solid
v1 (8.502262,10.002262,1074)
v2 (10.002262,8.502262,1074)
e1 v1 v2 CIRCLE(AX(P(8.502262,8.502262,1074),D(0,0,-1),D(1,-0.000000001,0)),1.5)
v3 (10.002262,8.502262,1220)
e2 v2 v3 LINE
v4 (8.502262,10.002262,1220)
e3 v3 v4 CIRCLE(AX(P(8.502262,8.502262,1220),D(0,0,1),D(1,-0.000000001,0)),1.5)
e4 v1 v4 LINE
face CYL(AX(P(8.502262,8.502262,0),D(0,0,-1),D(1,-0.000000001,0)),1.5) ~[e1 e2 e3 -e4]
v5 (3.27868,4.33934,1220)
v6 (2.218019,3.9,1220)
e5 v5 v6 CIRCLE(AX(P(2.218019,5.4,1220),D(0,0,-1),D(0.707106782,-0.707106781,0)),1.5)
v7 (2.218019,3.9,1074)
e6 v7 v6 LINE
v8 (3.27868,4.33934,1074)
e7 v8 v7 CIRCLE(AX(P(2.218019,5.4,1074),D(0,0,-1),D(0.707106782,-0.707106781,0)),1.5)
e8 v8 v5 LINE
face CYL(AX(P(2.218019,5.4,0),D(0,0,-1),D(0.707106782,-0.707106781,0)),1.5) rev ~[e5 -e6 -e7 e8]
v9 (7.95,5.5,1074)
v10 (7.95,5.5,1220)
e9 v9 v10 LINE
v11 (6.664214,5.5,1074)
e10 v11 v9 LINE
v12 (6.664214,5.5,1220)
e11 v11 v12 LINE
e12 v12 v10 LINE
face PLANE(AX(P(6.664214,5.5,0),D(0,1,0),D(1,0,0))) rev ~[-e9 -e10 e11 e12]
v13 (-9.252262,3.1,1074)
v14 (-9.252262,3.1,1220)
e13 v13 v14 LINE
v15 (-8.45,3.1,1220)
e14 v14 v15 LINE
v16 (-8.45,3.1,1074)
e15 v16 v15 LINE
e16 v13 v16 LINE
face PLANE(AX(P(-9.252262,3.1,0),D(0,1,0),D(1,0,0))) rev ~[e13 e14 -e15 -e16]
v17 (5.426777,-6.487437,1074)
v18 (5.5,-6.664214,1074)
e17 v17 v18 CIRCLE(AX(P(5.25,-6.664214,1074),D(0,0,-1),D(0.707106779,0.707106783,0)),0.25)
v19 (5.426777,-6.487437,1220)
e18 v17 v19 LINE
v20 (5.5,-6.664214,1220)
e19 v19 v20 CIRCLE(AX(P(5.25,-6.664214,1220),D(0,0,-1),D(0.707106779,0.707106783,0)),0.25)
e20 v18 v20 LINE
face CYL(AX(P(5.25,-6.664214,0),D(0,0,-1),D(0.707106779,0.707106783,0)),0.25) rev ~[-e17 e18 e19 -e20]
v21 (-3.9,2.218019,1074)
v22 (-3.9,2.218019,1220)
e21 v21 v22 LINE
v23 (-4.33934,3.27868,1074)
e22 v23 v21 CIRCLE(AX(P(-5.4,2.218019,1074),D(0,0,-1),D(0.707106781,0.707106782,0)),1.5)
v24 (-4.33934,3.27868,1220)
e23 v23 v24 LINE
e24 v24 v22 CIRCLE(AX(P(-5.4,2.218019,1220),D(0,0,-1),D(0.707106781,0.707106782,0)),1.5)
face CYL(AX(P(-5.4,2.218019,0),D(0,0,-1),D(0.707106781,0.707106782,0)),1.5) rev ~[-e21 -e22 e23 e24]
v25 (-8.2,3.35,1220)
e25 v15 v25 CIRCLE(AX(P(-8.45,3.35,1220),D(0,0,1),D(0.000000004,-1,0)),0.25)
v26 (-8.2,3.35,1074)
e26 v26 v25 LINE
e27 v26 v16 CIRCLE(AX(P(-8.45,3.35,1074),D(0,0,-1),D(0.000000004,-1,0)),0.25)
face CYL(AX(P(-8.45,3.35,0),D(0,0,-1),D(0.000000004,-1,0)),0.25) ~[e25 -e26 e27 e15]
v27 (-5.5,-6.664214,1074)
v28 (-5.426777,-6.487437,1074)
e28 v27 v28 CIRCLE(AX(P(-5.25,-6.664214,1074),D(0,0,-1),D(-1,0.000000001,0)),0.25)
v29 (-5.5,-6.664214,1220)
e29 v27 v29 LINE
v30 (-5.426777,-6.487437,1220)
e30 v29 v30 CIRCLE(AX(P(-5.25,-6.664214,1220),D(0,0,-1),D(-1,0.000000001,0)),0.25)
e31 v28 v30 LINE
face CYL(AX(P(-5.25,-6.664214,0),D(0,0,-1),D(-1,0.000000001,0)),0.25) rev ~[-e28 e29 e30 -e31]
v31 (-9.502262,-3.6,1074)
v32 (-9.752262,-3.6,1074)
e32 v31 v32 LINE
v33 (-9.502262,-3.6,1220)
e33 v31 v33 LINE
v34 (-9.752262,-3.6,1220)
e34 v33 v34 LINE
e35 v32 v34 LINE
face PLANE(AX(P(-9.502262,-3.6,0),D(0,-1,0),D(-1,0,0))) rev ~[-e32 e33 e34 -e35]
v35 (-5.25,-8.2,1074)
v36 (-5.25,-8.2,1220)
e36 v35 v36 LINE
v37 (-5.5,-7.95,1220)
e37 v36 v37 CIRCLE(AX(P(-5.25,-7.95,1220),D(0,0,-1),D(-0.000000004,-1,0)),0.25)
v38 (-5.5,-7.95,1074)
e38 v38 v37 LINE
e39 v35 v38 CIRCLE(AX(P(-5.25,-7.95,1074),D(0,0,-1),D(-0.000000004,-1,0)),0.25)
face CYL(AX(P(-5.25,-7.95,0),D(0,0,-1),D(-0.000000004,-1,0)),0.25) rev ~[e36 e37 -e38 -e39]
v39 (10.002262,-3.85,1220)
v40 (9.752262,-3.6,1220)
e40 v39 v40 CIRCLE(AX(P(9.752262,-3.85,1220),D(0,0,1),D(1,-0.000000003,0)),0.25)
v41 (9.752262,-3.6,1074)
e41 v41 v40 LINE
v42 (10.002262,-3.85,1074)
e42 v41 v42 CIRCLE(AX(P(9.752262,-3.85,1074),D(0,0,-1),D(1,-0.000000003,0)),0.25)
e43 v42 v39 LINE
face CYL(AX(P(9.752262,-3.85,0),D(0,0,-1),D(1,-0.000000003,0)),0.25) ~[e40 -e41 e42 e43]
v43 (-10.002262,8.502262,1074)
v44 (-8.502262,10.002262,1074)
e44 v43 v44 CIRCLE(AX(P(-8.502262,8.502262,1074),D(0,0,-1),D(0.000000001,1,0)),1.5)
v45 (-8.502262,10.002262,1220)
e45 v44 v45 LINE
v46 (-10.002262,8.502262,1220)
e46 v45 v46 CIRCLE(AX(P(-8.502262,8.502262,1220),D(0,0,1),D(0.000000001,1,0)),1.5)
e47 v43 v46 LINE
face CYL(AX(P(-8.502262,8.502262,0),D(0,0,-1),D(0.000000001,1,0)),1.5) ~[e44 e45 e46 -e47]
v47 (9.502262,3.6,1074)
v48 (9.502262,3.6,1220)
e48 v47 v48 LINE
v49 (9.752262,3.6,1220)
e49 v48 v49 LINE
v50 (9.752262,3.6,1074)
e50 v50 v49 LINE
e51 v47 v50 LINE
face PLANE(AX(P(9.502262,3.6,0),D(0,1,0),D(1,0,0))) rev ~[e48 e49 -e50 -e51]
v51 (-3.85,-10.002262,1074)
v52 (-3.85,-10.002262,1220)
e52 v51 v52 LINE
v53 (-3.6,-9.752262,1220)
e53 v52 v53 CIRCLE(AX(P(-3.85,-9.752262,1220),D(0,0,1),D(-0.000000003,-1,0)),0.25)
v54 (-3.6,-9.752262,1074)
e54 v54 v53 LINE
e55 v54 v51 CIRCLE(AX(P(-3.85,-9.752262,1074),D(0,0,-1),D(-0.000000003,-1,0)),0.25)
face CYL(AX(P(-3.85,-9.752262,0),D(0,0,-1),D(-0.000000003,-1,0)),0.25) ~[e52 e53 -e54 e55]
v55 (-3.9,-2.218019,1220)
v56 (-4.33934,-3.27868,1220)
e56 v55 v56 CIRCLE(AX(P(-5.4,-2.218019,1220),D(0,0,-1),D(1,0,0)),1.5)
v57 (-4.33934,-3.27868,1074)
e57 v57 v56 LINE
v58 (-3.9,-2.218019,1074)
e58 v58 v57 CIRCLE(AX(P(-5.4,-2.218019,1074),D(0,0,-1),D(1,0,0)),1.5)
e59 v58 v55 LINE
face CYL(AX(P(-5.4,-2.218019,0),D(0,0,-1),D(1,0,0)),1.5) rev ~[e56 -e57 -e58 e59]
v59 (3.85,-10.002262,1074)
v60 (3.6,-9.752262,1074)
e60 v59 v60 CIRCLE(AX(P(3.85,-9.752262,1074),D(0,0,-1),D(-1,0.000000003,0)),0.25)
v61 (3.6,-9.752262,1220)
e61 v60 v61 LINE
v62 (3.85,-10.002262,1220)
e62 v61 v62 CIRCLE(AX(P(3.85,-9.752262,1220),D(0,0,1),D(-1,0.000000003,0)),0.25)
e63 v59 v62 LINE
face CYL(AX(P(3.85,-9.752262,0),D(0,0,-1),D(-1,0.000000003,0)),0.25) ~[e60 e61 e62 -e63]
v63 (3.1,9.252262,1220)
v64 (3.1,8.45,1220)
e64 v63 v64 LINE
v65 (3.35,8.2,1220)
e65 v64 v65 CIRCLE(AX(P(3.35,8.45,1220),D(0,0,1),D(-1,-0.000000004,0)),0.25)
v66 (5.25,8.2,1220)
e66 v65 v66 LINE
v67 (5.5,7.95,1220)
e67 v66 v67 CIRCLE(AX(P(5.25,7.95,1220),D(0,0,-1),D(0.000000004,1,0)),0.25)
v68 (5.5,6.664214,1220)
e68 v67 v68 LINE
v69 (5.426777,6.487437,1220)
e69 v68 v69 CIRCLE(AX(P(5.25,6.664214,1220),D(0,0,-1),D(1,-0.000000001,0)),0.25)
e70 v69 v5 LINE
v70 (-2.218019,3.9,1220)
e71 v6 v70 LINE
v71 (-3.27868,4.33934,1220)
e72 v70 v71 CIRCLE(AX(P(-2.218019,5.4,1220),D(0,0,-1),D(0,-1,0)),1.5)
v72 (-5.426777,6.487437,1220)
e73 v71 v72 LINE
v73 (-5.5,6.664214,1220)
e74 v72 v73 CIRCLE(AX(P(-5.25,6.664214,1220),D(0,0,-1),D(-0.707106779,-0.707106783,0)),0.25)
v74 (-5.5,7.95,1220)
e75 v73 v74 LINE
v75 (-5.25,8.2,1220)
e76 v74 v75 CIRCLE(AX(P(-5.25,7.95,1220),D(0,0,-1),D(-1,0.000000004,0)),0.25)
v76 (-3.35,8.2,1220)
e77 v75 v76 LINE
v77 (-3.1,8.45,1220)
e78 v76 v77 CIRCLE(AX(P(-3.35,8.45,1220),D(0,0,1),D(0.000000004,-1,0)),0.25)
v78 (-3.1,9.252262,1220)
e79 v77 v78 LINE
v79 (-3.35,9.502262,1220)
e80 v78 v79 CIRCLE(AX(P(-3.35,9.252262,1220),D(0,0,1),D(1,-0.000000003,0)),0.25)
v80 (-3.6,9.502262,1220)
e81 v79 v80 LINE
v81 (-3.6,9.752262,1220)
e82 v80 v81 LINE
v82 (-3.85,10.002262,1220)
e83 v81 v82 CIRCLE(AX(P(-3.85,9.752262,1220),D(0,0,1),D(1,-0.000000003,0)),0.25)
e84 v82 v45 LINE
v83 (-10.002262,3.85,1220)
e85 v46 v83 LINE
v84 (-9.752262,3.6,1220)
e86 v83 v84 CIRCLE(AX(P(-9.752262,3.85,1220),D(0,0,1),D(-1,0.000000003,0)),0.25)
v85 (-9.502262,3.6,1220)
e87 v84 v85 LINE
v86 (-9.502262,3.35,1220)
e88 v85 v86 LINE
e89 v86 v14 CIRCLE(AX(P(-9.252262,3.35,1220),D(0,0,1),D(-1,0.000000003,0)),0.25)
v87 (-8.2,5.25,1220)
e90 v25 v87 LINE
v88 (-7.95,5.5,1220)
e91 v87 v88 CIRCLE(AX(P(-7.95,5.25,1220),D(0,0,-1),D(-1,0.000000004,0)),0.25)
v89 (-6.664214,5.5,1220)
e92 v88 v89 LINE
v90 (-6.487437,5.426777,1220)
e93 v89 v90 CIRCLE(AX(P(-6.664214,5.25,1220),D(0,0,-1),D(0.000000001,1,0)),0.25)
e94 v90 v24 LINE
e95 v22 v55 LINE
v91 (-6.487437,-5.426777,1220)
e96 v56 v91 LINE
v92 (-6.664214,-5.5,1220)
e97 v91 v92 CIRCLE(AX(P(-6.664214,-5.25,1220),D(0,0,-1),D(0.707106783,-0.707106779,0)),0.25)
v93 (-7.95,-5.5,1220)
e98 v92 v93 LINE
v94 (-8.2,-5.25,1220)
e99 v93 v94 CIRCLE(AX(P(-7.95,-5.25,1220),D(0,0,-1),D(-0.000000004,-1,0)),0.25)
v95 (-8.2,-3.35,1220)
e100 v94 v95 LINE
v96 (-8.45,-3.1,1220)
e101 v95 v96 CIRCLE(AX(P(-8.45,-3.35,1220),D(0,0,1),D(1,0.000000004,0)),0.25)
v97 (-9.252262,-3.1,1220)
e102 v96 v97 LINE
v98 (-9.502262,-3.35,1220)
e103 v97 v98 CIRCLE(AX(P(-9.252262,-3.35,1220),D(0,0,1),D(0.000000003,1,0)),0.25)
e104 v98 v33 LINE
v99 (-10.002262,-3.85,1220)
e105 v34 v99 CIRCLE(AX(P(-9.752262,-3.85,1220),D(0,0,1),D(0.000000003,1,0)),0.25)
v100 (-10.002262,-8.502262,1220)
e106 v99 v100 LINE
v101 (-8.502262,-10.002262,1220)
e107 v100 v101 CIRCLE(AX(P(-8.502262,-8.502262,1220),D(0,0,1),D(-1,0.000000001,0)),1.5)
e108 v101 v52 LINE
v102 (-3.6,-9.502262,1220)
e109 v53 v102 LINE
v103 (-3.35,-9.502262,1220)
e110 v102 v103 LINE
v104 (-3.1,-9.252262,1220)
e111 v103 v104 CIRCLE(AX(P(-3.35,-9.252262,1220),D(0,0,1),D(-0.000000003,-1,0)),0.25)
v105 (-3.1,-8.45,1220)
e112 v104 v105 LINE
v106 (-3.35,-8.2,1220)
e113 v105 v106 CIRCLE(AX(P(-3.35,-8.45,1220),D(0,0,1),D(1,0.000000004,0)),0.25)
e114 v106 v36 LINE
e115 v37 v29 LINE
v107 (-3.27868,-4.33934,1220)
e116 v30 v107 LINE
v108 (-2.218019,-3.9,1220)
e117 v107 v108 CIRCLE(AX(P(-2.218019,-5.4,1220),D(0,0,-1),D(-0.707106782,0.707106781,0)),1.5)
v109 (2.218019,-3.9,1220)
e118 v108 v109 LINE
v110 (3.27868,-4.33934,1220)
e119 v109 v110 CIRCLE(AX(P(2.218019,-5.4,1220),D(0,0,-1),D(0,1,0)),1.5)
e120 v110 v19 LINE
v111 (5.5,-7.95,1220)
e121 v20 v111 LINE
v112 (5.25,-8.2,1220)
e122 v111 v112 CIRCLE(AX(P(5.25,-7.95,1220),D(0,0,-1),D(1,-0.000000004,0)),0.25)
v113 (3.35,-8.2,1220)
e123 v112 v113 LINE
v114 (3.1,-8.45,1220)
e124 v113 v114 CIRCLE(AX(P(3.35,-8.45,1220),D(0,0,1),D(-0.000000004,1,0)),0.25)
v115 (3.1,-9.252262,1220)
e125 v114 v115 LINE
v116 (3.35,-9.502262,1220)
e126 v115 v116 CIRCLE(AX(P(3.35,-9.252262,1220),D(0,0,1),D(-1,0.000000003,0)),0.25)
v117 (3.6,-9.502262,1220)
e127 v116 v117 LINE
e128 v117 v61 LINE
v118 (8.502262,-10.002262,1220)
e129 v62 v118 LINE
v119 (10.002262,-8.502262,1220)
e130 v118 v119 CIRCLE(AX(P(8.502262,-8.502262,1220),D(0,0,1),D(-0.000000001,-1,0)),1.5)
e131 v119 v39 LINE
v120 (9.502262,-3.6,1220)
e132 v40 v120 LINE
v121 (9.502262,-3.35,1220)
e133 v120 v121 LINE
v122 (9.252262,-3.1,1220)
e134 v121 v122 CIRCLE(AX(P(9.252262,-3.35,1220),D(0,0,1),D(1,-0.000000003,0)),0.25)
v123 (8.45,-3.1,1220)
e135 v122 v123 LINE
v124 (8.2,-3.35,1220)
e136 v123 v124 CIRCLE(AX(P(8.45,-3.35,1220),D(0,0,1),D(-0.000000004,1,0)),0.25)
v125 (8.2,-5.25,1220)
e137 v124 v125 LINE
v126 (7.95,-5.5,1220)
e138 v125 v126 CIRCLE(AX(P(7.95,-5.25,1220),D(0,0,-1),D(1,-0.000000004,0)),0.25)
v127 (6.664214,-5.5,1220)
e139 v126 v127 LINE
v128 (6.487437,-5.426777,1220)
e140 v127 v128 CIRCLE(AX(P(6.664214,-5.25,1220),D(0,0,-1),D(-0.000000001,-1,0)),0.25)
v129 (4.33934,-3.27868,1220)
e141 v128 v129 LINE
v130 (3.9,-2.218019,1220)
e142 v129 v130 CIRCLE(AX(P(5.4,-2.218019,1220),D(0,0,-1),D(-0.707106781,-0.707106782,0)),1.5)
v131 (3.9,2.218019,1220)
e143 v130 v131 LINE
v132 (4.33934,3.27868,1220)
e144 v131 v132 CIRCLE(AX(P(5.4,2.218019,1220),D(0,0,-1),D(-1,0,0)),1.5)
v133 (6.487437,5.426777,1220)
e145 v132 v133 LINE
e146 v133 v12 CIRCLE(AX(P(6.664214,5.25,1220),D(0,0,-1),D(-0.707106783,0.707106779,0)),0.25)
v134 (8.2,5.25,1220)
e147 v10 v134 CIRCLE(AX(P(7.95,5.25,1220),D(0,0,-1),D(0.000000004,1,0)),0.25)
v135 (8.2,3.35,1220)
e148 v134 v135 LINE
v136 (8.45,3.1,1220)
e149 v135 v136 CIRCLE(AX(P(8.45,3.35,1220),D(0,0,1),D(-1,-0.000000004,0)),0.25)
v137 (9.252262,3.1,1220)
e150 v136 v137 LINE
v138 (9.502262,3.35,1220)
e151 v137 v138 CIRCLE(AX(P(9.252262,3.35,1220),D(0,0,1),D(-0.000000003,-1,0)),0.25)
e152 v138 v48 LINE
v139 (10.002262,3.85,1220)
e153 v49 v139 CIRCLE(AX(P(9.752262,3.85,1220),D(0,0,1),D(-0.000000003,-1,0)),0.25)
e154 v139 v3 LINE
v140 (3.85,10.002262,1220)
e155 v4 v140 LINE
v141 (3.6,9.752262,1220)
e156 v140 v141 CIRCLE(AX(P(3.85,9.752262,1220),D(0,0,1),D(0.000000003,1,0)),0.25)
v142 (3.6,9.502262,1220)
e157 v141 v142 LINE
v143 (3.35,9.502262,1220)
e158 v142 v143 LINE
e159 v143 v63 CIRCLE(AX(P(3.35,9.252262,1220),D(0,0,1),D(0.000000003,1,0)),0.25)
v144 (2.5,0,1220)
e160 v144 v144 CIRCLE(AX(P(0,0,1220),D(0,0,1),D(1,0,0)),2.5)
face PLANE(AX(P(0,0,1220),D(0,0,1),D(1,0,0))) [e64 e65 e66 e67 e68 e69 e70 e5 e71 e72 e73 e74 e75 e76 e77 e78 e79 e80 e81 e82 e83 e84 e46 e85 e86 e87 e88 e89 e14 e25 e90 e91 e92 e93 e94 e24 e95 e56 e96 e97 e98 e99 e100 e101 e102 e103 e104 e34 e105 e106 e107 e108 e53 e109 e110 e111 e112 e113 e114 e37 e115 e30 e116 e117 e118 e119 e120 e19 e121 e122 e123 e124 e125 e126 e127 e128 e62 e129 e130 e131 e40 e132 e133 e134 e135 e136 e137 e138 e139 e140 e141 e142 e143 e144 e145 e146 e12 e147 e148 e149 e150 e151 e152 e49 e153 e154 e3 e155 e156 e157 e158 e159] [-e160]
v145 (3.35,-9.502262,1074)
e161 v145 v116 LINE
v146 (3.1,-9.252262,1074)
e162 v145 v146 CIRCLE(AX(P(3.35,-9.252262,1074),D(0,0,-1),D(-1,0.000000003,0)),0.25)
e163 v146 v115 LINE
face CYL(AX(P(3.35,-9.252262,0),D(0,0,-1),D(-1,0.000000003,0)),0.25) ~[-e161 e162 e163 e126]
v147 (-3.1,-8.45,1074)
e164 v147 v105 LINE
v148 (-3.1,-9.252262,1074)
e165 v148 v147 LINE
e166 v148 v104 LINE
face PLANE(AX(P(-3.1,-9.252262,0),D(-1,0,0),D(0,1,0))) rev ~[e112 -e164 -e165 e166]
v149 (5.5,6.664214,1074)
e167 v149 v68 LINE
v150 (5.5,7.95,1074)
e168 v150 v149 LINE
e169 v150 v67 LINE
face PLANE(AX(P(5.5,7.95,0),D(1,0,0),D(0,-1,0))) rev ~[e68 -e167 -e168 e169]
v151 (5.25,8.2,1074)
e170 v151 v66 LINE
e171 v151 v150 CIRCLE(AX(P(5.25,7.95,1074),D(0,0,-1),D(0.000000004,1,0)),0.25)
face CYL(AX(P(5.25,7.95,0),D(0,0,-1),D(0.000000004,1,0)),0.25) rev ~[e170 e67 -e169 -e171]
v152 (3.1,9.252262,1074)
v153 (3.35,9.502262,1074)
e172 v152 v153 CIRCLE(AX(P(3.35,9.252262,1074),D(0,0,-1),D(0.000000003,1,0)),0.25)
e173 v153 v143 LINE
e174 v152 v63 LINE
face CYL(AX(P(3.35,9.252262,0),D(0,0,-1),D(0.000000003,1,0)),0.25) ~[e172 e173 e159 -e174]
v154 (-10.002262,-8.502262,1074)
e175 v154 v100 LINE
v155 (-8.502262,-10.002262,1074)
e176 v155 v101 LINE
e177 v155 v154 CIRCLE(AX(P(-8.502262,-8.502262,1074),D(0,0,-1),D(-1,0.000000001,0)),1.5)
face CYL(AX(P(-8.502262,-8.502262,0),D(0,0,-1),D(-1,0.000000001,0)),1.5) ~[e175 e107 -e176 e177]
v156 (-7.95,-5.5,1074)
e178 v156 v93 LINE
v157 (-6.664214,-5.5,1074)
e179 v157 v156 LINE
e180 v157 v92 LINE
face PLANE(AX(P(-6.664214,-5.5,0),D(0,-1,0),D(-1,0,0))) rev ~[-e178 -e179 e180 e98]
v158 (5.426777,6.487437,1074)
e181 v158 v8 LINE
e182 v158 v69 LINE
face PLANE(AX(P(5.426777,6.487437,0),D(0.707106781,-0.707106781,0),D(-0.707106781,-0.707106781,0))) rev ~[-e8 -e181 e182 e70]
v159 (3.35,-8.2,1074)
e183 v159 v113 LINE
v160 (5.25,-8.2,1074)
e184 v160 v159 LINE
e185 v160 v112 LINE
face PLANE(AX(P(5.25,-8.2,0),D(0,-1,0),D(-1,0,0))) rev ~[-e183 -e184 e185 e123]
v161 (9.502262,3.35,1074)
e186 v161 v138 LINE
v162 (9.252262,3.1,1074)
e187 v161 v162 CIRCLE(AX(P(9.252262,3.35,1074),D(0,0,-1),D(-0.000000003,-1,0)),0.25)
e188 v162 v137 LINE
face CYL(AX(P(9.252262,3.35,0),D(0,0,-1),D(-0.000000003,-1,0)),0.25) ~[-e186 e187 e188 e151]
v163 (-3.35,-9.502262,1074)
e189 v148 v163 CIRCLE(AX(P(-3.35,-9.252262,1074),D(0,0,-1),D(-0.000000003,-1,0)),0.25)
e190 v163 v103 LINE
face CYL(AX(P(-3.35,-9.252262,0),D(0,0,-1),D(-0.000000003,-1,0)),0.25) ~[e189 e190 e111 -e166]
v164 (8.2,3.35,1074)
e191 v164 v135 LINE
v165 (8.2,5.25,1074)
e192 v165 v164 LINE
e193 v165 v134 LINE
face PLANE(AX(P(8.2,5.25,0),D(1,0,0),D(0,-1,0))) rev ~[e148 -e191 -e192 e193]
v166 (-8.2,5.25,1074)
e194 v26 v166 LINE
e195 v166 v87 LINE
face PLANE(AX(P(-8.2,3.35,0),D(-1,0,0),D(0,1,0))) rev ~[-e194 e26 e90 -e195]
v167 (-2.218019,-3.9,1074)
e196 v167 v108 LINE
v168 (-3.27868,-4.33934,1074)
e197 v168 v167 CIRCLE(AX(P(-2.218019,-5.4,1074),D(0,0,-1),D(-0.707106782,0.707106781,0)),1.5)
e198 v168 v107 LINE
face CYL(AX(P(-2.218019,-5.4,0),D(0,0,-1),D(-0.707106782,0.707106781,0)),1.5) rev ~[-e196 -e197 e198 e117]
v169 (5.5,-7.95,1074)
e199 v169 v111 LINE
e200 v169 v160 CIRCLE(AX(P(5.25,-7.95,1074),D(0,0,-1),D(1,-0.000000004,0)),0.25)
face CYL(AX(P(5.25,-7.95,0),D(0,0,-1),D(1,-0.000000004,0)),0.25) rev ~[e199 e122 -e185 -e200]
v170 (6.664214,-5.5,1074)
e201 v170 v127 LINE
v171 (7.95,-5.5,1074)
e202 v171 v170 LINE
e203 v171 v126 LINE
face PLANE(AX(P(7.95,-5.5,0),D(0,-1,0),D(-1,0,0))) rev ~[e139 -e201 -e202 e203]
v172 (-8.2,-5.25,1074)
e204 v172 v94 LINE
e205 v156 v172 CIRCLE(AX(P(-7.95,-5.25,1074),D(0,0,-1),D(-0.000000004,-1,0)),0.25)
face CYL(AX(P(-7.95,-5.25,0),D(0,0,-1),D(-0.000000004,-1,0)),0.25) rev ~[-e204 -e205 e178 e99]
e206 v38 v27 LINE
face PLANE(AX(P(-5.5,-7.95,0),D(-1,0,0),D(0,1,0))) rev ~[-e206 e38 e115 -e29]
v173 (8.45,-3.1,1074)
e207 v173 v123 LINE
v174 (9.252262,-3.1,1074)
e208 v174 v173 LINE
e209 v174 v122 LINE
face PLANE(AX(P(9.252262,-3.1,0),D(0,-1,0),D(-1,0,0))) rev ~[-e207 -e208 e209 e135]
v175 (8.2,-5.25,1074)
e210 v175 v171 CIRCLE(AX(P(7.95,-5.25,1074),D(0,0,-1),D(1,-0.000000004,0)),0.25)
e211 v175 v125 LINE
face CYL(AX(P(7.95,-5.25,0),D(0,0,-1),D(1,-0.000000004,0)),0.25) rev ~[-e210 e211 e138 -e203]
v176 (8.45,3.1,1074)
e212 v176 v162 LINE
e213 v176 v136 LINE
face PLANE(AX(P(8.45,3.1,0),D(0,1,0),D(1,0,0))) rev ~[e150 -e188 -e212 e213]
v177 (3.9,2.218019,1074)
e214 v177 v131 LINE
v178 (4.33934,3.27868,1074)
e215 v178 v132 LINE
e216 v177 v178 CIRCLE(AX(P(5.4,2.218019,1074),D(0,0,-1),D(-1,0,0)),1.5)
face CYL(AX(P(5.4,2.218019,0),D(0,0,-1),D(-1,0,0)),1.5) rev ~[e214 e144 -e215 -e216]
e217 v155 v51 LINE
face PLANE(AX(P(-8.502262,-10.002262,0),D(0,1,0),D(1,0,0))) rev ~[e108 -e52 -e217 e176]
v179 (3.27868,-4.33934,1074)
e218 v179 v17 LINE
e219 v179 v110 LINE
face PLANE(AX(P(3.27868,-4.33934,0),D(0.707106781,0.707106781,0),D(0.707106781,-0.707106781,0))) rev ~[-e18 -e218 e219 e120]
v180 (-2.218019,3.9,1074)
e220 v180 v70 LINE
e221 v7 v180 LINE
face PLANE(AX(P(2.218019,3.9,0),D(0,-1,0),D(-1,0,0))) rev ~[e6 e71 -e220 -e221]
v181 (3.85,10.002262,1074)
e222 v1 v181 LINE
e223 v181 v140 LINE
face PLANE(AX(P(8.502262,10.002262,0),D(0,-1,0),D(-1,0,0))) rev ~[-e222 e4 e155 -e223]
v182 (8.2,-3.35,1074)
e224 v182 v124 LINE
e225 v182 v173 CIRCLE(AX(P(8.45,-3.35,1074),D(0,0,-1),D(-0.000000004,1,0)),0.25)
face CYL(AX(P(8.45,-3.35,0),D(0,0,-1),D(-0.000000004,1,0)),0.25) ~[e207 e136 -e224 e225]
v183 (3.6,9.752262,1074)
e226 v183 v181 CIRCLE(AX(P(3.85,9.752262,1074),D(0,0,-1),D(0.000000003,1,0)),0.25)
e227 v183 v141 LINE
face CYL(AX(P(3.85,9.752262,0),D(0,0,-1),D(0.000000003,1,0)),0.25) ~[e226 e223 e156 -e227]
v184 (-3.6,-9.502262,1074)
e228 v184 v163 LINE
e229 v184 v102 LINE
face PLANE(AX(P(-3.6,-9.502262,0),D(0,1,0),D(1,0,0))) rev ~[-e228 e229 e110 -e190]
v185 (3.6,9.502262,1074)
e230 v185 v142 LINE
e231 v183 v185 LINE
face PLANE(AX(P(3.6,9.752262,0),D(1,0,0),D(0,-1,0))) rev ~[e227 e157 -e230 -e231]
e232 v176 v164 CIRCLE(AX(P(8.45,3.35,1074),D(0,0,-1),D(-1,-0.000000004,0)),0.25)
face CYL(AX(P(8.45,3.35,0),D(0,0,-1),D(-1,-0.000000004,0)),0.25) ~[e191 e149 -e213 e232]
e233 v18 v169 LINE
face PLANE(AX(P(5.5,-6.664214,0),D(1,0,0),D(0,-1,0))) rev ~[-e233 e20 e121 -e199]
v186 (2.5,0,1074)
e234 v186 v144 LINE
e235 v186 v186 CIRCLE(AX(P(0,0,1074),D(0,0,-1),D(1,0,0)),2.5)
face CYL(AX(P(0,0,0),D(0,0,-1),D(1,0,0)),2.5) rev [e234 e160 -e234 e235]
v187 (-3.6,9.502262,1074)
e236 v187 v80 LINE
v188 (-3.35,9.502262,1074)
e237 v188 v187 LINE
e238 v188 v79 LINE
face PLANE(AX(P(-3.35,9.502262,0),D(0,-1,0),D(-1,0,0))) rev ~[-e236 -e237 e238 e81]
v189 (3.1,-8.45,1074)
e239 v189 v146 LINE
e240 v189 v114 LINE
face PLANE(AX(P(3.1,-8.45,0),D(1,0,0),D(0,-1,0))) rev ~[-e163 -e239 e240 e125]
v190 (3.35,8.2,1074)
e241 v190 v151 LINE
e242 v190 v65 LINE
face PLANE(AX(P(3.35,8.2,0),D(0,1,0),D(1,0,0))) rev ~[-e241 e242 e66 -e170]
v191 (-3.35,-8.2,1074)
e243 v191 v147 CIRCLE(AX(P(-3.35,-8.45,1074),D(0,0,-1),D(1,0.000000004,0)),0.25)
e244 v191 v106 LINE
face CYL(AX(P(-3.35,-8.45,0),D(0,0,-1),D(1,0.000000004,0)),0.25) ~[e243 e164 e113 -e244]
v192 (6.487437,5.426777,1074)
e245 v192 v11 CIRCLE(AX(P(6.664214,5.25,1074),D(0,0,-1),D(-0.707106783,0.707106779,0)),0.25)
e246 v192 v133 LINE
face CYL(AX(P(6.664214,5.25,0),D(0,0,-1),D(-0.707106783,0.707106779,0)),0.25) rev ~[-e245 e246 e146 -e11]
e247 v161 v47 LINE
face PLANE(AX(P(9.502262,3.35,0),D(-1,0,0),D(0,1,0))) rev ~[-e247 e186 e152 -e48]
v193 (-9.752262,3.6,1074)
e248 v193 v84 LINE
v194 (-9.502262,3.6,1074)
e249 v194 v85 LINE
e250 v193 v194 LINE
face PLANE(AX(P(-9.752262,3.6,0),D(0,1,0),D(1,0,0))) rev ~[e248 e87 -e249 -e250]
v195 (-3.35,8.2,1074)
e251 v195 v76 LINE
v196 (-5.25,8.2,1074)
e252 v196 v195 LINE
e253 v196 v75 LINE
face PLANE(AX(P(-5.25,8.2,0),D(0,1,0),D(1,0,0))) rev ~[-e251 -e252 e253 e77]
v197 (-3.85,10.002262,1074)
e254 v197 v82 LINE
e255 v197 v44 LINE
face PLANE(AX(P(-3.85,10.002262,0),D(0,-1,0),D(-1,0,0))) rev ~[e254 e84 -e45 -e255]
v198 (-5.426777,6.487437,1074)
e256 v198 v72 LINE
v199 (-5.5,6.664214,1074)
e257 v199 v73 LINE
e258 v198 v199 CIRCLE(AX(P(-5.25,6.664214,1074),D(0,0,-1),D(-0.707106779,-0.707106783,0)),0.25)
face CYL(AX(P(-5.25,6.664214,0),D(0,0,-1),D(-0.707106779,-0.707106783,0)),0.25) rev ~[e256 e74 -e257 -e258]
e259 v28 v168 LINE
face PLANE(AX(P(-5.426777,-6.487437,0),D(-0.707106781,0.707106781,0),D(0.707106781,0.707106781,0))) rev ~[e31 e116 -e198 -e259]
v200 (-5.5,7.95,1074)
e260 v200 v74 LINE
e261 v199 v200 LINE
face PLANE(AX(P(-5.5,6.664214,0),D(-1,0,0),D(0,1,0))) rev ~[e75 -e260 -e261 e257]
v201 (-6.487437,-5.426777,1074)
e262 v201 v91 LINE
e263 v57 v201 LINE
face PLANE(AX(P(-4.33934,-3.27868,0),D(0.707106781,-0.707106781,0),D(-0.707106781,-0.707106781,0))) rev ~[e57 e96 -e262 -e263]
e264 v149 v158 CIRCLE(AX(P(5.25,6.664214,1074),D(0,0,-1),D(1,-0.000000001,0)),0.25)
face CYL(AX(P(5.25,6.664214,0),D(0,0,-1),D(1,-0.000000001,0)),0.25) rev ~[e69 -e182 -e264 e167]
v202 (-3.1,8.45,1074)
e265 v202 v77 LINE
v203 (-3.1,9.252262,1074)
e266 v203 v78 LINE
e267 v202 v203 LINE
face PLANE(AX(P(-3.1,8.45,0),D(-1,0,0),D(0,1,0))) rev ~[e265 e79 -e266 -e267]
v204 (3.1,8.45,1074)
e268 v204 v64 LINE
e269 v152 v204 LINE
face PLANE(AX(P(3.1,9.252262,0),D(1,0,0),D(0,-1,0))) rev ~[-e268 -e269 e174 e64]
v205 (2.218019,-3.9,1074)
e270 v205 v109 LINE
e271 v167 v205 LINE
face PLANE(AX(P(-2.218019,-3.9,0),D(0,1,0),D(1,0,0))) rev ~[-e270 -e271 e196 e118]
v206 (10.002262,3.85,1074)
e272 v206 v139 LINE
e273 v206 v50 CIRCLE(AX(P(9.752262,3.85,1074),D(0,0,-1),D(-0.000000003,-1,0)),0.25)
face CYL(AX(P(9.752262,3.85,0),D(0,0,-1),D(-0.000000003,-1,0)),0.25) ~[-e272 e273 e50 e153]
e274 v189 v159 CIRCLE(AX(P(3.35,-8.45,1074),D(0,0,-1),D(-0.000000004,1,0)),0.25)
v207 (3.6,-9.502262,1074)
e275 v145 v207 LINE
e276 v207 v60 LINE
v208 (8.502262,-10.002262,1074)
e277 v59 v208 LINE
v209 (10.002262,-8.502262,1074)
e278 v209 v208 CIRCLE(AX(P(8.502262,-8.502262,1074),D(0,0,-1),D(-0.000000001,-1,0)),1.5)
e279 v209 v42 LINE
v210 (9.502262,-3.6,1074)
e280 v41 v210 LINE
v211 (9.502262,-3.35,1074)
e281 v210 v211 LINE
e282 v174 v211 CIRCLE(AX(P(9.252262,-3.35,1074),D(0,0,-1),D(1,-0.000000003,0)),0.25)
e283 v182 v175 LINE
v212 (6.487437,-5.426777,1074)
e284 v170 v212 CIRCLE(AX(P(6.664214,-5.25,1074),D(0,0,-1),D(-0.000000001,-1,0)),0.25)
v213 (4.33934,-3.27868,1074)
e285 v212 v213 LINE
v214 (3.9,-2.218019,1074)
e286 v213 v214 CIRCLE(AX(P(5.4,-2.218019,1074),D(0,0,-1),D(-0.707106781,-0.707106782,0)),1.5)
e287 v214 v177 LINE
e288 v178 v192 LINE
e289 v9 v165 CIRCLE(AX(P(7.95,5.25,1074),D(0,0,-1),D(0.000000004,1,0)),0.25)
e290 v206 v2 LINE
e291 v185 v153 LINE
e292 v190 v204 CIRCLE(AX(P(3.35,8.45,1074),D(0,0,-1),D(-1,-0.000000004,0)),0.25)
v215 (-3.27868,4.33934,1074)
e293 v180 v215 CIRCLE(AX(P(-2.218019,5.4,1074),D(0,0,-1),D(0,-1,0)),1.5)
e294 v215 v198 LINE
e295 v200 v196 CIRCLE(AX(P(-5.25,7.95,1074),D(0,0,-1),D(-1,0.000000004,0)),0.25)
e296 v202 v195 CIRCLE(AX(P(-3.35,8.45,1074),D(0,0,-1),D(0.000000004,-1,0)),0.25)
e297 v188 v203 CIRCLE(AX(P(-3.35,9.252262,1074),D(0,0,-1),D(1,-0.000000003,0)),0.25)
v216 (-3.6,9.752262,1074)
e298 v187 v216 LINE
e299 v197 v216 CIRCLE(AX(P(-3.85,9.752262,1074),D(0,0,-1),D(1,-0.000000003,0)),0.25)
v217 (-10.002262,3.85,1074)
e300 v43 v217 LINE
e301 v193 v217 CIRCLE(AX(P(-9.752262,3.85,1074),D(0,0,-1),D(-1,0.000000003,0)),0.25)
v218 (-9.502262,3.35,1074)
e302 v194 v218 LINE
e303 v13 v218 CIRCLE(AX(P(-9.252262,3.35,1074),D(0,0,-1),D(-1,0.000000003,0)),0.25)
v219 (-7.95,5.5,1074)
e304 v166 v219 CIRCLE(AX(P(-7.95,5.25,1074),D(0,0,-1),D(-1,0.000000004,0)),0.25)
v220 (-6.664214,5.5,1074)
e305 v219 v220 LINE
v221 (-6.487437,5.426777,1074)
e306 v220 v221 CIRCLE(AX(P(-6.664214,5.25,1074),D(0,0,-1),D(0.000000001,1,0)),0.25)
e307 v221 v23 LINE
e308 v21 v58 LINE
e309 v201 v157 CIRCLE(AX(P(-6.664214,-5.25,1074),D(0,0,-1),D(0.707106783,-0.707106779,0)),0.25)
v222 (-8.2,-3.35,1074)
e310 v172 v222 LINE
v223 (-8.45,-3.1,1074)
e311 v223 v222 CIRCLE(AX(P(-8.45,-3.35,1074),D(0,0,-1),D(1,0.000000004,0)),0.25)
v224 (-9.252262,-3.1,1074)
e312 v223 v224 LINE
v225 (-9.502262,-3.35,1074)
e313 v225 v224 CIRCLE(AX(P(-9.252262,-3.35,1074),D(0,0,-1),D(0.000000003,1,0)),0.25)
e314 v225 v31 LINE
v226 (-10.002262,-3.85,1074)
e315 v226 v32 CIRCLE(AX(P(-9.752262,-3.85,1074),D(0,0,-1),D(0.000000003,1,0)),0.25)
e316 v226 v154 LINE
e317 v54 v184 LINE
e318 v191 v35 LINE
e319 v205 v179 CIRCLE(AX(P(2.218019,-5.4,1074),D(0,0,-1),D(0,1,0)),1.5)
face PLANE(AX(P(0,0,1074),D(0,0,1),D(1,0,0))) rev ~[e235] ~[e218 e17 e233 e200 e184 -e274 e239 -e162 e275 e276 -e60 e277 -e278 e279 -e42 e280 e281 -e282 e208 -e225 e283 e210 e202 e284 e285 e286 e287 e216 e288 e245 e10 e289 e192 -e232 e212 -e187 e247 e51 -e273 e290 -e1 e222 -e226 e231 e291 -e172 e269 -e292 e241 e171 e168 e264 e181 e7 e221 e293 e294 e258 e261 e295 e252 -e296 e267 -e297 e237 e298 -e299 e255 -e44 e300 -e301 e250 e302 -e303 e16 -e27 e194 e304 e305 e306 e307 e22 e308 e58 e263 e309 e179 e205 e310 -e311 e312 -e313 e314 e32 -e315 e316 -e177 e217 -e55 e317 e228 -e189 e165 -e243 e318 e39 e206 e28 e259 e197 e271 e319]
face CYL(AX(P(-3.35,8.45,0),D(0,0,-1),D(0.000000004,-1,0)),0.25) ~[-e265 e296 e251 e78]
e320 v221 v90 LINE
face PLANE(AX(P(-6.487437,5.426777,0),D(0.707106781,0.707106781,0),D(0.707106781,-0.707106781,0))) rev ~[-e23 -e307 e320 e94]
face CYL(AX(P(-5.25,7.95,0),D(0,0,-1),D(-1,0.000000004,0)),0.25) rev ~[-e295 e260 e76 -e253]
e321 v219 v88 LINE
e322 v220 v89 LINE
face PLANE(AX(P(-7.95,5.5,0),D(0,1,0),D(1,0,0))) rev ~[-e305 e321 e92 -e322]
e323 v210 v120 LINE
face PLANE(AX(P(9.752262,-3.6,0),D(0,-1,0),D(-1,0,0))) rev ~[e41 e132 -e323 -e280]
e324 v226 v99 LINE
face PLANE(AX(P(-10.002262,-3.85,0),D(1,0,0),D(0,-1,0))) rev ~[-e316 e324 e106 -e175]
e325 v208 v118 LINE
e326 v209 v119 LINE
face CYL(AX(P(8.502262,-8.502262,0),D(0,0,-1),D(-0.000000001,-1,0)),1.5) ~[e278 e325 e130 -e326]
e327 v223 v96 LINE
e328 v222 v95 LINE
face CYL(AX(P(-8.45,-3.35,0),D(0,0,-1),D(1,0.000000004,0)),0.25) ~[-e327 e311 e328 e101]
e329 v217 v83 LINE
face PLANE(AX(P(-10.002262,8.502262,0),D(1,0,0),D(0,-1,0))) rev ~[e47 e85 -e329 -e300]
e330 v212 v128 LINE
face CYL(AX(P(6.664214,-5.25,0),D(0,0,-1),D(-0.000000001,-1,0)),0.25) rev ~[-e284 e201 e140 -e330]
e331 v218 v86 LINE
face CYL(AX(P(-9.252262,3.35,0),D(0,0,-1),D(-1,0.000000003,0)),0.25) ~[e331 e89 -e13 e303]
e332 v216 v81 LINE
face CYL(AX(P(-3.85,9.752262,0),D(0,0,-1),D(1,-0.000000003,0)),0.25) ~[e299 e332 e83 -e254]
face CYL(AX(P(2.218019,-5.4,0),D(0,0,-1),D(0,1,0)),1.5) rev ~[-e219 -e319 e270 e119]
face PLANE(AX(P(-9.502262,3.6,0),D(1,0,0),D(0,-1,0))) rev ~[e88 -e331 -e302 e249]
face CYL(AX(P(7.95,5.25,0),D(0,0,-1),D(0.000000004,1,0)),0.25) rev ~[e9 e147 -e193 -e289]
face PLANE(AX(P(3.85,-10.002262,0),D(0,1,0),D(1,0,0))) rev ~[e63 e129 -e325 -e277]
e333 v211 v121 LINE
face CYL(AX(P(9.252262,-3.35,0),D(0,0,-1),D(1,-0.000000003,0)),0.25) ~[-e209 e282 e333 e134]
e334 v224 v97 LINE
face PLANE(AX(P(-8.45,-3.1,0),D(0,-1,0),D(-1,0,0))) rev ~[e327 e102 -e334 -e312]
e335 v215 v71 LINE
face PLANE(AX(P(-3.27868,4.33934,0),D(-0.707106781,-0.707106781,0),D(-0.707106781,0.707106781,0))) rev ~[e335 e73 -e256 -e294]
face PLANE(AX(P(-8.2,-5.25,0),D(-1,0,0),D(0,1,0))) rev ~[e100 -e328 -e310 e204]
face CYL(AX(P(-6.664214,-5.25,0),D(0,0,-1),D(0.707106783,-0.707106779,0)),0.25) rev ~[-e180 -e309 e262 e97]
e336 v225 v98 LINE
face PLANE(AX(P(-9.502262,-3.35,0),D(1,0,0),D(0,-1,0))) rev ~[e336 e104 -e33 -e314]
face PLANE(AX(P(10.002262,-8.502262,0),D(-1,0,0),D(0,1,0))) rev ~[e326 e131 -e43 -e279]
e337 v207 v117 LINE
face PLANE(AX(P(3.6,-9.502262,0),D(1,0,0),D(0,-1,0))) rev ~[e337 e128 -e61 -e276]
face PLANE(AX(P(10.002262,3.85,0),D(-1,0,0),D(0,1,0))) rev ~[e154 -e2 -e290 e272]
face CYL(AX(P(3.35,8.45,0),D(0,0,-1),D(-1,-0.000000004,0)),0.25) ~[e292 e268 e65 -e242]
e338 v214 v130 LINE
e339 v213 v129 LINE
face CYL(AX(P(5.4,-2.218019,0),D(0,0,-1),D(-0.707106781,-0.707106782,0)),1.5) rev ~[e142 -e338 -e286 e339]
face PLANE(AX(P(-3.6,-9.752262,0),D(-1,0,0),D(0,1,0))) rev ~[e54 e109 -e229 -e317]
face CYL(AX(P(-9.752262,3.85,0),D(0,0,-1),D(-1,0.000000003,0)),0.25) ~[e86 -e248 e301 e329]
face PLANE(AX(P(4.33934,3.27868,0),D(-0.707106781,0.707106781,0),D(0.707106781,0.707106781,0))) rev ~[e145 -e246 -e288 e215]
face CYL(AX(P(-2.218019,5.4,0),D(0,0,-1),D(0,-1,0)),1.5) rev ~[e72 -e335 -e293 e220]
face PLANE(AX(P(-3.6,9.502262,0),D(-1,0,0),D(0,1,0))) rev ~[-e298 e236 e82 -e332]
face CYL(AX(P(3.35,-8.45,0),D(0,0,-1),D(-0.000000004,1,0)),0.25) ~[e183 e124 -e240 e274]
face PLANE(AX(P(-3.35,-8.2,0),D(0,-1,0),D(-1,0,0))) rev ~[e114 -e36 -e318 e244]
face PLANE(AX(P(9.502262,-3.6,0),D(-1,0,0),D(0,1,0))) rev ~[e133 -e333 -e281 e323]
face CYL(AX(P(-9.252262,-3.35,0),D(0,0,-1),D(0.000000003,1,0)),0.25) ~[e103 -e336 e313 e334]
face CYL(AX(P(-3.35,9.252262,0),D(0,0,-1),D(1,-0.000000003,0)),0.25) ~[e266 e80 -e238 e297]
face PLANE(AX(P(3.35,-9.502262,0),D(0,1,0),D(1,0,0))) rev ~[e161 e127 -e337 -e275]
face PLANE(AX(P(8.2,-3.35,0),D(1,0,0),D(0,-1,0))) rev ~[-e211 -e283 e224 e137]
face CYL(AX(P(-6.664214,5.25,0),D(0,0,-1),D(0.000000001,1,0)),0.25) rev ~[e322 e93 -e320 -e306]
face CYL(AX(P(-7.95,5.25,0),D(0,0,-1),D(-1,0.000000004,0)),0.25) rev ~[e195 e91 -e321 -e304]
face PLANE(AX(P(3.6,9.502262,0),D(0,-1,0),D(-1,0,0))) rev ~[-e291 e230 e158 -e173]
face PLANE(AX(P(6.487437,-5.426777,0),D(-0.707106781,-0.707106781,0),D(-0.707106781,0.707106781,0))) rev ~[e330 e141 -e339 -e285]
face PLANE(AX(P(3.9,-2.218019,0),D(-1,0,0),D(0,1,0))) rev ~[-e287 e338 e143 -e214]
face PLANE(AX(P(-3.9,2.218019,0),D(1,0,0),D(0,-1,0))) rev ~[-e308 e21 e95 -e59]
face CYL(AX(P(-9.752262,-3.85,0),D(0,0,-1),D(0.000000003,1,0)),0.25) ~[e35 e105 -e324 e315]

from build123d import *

# Parameters (mm, degrees)
SKETCH_1_R         = 2.5
EXTRUDE_1_DEPTH    = 1220
SKETCH1_R          = 16.771487081
CUT_EXTRUDE1_DEPTH = 1075


with BuildPart() as part:
    # 草图1 → 凸台-拉伸1 (new body)
    with BuildSketch(Plane.XY):
        with BuildLine():
            Line((-8.502261885, -10.002261885), (-3.85, -10.002261885))
            ThreePointArc((-3.85, -10.002261885), (-3.673223305, -9.929038581), (-3.6, -9.752261885))
            Line((-3.6, -9.752261885), (-3.6, -9.502261885))
            Line((-3.6, -9.502261885), (-3.35, -9.502261885))
            ThreePointArc((-3.35, -9.502261885), (-3.173223305, -9.429038581), (-3.1, -9.252261885))
            Line((-3.1, -9.252261885), (-3.1, -8.45))
            ThreePointArc((-3.1, -8.45), (-3.173223305, -8.273223305), (-3.35, -8.2))
            Line((-3.35, -8.2), (-5.25, -8.2))
            ThreePointArc((-5.25, -8.2), (-5.426776695, -8.126776695), (-5.5, -7.95))
            Line((-5.5, -7.95), (-5.5, -6.664213562))
            ThreePointArc((-5.5, -6.664213562), (-5.480969883, -6.568542704), (-5.426776695, -6.487436867))
            Line((-5.426776695, -6.487436867), (-3.278679656, -4.339339828))
            ThreePointArc((-3.278679656, -4.339339828), (-2.792044633, -4.014180701), (-2.218019485, -3.9))
            Line((-2.218019485, -3.9), (2.218019485, -3.9))
            ThreePointArc((2.218019485, -3.9), (2.792044633, -4.014180701), (3.278679656, -4.339339828))
            Line((3.278679656, -4.339339828), (5.426776695, -6.487436867))
            ThreePointArc((5.426776695, -6.487436867), (5.480969883, -6.568542704), (5.5, -6.664213562))
            Line((5.5, -6.664213562), (5.5, -7.95))
            ThreePointArc((5.5, -7.95), (5.426776695, -8.126776695), (5.25, -8.2))
            Line((5.25, -8.2), (3.35, -8.2))
            ThreePointArc((3.35, -8.2), (3.173223305, -8.273223305), (3.1, -8.45))
            Line((3.1, -8.45), (3.1, -9.252261885))
            ThreePointArc((3.1, -9.252261885), (3.173223305, -9.429038581), (3.35, -9.502261885))
            Line((3.35, -9.502261885), (3.6, -9.502261885))
            Line((3.6, -9.502261885), (3.6, -9.752261885))
            ThreePointArc((3.6, -9.752261885), (3.673223305, -9.929038581), (3.85, -10.002261885))
            Line((3.85, -10.002261885), (8.502261885, -10.002261885))
            ThreePointArc((8.502261885, -10.002261885), (9.562922057, -9.562922057), (10.002261885, -8.502261885))
            Line((10.002261885, -8.502261885), (10.002261885, -3.85))
            ThreePointArc((10.002261885, -3.85), (9.929038581, -3.673223305), (9.752261885, -3.6))
            Line((9.752261885, -3.6), (9.502261885, -3.6))
            Line((9.502261885, -3.6), (9.502261885, -3.35))
            ThreePointArc((9.502261885, -3.35), (9.429038581, -3.173223305), (9.252261885, -3.1))
            Line((9.252261885, -3.1), (8.45, -3.1))
            ThreePointArc((8.45, -3.1), (8.273223305, -3.173223305), (8.2, -3.35))
            Line((8.2, -3.35), (8.2, -5.25))
            ThreePointArc((8.2, -5.25), (8.126776695, -5.426776695), (7.95, -5.5))
            Line((7.95, -5.5), (6.664213562, -5.5))
            ThreePointArc((6.664213562, -5.5), (6.568542704, -5.480969883), (6.487436867, -5.426776695))
            Line((6.487436867, -5.426776695), (4.339339828, -3.278679656))
            ThreePointArc((4.339339828, -3.278679656), (4.014180701, -2.792044633), (3.9, -2.218019485))
            Line((3.9, -2.218019485), (3.9, 2.218019485))
            ThreePointArc((3.9, 2.218019485), (4.014180701, 2.792044633), (4.339339828, 3.278679656))
            Line((4.339339828, 3.278679656), (6.487436867, 5.426776695))
            ThreePointArc((6.487436867, 5.426776695), (6.568542704, 5.480969883), (6.664213562, 5.5))
            Line((6.664213562, 5.5), (7.95, 5.5))
            ThreePointArc((7.95, 5.5), (8.126776695, 5.426776695), (8.2, 5.25))
            Line((8.2, 5.25), (8.2, 3.35))
            ThreePointArc((8.2, 3.35), (8.273223305, 3.173223305), (8.45, 3.1))
            Line((8.45, 3.1), (9.252261885, 3.1))
            ThreePointArc((9.252261885, 3.1), (9.429038581, 3.173223305), (9.502261885, 3.35))
            Line((9.502261885, 3.35), (9.502261885, 3.6))
            Line((9.502261885, 3.6), (9.752261885, 3.6))
            ThreePointArc((9.752261885, 3.6), (9.929038581, 3.673223305), (10.002261885, 3.85))
            Line((10.002261885, 3.85), (10.002261885, 8.502261885))
            ThreePointArc((10.002261885, 8.502261885), (9.562922057, 9.562922057), (8.502261885, 10.002261885))
            Line((8.502261885, 10.002261885), (3.85, 10.002261885))
            ThreePointArc((3.85, 10.002261885), (3.673223305, 9.929038581), (3.6, 9.752261885))
            Line((3.6, 9.752261885), (3.6, 9.502261885))
            Line((3.6, 9.502261885), (3.35, 9.502261885))
            ThreePointArc((3.35, 9.502261885), (3.173223305, 9.429038581), (3.1, 9.252261885))
            Line((3.1, 9.252261885), (3.1, 8.45))
            ThreePointArc((3.1, 8.45), (3.173223305, 8.273223305), (3.35, 8.2))
            Line((3.35, 8.2), (5.25, 8.2))
            ThreePointArc((5.25, 8.2), (5.426776695, 8.126776695), (5.5, 7.95))
            Line((5.5, 7.95), (5.5, 6.664213562))
            ThreePointArc((5.5, 6.664213562), (5.480969883, 6.568542704), (5.426776695, 6.487436867))
            Line((5.426776695, 6.487436867), (3.278679656, 4.339339828))
            ThreePointArc((3.278679656, 4.339339828), (2.792044633, 4.014180701), (2.218019485, 3.9))
            Line((2.218019485, 3.9), (-2.218019485, 3.9))
            ThreePointArc((-2.218019485, 3.9), (-2.792044633, 4.014180701), (-3.278679656, 4.339339828))
            Line((-3.278679656, 4.339339828), (-5.426776695, 6.487436867))
            ThreePointArc((-5.426776695, 6.487436867), (-5.480969883, 6.568542704), (-5.5, 6.664213562))
            Line((-5.5, 6.664213562), (-5.5, 7.95))
            ThreePointArc((-5.5, 7.95), (-5.426776695, 8.126776695), (-5.25, 8.2))
            Line((-5.25, 8.2), (-3.35, 8.2))
            ThreePointArc((-3.35, 8.2), (-3.173223305, 8.273223305), (-3.1, 8.45))
            Line((-3.1, 8.45), (-3.1, 9.252261885))
            ThreePointArc((-3.1, 9.252261885), (-3.173223305, 9.429038581), (-3.35, 9.502261885))
            Line((-3.35, 9.502261885), (-3.6, 9.502261885))
            Line((-3.6, 9.502261885), (-3.6, 9.752261885))
            ThreePointArc((-3.6, 9.752261885), (-3.673223305, 9.929038581), (-3.85, 10.002261885))
            Line((-3.85, 10.002261885), (-8.502261885, 10.002261885))
            ThreePointArc((-8.502261885, 10.002261885), (-9.562922057, 9.562922057), (-10.002261885, 8.502261885))
            Line((-10.002261885, 8.502261885), (-10.002261885, 3.85))
            ThreePointArc((-10.002261885, 3.85), (-9.929038581, 3.673223305), (-9.752261885, 3.6))
            Line((-9.752261885, 3.6), (-9.502261885, 3.6))
            Line((-9.502261885, 3.6), (-9.502261885, 3.35))
            ThreePointArc((-9.502261885, 3.35), (-9.429038581, 3.173223305), (-9.252261885, 3.1))
            Line((-9.252261885, 3.1), (-8.45, 3.1))
            ThreePointArc((-8.45, 3.1), (-8.273223305, 3.173223305), (-8.2, 3.35))
            Line((-8.2, 3.35), (-8.2, 5.25))
            ThreePointArc((-8.2, 5.25), (-8.126776695, 5.426776695), (-7.95, 5.5))
            Line((-7.95, 5.5), (-6.664213562, 5.5))
            ThreePointArc((-6.664213562, 5.5), (-6.568542704, 5.480969883), (-6.487436867, 5.426776695))
            Line((-6.487436867, 5.426776695), (-4.339339828, 3.278679656))
            ThreePointArc((-4.339339828, 3.278679656), (-4.014180701, 2.792044633), (-3.9, 2.218019485))
            Line((-3.9, 2.218019485), (-3.9, -2.218019485))
            ThreePointArc((-3.9, -2.218019485), (-4.014180701, -2.792044633), (-4.339339828, -3.278679656))
            Line((-4.339339828, -3.278679656), (-6.487436867, -5.426776695))
            ThreePointArc((-6.487436867, -5.426776695), (-6.568542704, -5.480969883), (-6.664213562, -5.5))
            Line((-6.664213562, -5.5), (-7.95, -5.5))
            ThreePointArc((-7.95, -5.5), (-8.126776695, -5.426776695), (-8.2, -5.25))
            Line((-8.2, -5.25), (-8.2, -3.35))
            ThreePointArc((-8.2, -3.35), (-8.273223305, -3.173223305), (-8.45, -3.1))
            Line((-8.45, -3.1), (-9.252261885, -3.1))
            ThreePointArc((-9.252261885, -3.1), (-9.429038581, -3.173223305), (-9.502261885, -3.35))
            Line((-9.502261885, -3.35), (-9.502261885, -3.6))
            Line((-9.502261885, -3.6), (-9.752261885, -3.6))
            ThreePointArc((-9.752261885, -3.6), (-9.929038581, -3.673223305), (-10.002261885, -3.85))
            Line((-10.002261885, -3.85), (-10.002261885, -8.502261885))
            ThreePointArc((-10.002261885, -8.502261885), (-9.562922057, -9.562922057), (-8.502261885, -10.002261885))
        make_face()
        Circle(SKETCH_1_R, mode=Mode.SUBTRACT)
    extrude(amount=EXTRUDE_1_DEPTH)

    # Sketch1 → Cut-Extrude1 (cut, through all)
    with BuildSketch(Plane.XY.offset(1074)):
        Circle(SKETCH1_R)
    extrude(amount=-CUT_EXTRUDE1_DEPTH, mode=Mode.SUBTRACT)


solid = part.part
